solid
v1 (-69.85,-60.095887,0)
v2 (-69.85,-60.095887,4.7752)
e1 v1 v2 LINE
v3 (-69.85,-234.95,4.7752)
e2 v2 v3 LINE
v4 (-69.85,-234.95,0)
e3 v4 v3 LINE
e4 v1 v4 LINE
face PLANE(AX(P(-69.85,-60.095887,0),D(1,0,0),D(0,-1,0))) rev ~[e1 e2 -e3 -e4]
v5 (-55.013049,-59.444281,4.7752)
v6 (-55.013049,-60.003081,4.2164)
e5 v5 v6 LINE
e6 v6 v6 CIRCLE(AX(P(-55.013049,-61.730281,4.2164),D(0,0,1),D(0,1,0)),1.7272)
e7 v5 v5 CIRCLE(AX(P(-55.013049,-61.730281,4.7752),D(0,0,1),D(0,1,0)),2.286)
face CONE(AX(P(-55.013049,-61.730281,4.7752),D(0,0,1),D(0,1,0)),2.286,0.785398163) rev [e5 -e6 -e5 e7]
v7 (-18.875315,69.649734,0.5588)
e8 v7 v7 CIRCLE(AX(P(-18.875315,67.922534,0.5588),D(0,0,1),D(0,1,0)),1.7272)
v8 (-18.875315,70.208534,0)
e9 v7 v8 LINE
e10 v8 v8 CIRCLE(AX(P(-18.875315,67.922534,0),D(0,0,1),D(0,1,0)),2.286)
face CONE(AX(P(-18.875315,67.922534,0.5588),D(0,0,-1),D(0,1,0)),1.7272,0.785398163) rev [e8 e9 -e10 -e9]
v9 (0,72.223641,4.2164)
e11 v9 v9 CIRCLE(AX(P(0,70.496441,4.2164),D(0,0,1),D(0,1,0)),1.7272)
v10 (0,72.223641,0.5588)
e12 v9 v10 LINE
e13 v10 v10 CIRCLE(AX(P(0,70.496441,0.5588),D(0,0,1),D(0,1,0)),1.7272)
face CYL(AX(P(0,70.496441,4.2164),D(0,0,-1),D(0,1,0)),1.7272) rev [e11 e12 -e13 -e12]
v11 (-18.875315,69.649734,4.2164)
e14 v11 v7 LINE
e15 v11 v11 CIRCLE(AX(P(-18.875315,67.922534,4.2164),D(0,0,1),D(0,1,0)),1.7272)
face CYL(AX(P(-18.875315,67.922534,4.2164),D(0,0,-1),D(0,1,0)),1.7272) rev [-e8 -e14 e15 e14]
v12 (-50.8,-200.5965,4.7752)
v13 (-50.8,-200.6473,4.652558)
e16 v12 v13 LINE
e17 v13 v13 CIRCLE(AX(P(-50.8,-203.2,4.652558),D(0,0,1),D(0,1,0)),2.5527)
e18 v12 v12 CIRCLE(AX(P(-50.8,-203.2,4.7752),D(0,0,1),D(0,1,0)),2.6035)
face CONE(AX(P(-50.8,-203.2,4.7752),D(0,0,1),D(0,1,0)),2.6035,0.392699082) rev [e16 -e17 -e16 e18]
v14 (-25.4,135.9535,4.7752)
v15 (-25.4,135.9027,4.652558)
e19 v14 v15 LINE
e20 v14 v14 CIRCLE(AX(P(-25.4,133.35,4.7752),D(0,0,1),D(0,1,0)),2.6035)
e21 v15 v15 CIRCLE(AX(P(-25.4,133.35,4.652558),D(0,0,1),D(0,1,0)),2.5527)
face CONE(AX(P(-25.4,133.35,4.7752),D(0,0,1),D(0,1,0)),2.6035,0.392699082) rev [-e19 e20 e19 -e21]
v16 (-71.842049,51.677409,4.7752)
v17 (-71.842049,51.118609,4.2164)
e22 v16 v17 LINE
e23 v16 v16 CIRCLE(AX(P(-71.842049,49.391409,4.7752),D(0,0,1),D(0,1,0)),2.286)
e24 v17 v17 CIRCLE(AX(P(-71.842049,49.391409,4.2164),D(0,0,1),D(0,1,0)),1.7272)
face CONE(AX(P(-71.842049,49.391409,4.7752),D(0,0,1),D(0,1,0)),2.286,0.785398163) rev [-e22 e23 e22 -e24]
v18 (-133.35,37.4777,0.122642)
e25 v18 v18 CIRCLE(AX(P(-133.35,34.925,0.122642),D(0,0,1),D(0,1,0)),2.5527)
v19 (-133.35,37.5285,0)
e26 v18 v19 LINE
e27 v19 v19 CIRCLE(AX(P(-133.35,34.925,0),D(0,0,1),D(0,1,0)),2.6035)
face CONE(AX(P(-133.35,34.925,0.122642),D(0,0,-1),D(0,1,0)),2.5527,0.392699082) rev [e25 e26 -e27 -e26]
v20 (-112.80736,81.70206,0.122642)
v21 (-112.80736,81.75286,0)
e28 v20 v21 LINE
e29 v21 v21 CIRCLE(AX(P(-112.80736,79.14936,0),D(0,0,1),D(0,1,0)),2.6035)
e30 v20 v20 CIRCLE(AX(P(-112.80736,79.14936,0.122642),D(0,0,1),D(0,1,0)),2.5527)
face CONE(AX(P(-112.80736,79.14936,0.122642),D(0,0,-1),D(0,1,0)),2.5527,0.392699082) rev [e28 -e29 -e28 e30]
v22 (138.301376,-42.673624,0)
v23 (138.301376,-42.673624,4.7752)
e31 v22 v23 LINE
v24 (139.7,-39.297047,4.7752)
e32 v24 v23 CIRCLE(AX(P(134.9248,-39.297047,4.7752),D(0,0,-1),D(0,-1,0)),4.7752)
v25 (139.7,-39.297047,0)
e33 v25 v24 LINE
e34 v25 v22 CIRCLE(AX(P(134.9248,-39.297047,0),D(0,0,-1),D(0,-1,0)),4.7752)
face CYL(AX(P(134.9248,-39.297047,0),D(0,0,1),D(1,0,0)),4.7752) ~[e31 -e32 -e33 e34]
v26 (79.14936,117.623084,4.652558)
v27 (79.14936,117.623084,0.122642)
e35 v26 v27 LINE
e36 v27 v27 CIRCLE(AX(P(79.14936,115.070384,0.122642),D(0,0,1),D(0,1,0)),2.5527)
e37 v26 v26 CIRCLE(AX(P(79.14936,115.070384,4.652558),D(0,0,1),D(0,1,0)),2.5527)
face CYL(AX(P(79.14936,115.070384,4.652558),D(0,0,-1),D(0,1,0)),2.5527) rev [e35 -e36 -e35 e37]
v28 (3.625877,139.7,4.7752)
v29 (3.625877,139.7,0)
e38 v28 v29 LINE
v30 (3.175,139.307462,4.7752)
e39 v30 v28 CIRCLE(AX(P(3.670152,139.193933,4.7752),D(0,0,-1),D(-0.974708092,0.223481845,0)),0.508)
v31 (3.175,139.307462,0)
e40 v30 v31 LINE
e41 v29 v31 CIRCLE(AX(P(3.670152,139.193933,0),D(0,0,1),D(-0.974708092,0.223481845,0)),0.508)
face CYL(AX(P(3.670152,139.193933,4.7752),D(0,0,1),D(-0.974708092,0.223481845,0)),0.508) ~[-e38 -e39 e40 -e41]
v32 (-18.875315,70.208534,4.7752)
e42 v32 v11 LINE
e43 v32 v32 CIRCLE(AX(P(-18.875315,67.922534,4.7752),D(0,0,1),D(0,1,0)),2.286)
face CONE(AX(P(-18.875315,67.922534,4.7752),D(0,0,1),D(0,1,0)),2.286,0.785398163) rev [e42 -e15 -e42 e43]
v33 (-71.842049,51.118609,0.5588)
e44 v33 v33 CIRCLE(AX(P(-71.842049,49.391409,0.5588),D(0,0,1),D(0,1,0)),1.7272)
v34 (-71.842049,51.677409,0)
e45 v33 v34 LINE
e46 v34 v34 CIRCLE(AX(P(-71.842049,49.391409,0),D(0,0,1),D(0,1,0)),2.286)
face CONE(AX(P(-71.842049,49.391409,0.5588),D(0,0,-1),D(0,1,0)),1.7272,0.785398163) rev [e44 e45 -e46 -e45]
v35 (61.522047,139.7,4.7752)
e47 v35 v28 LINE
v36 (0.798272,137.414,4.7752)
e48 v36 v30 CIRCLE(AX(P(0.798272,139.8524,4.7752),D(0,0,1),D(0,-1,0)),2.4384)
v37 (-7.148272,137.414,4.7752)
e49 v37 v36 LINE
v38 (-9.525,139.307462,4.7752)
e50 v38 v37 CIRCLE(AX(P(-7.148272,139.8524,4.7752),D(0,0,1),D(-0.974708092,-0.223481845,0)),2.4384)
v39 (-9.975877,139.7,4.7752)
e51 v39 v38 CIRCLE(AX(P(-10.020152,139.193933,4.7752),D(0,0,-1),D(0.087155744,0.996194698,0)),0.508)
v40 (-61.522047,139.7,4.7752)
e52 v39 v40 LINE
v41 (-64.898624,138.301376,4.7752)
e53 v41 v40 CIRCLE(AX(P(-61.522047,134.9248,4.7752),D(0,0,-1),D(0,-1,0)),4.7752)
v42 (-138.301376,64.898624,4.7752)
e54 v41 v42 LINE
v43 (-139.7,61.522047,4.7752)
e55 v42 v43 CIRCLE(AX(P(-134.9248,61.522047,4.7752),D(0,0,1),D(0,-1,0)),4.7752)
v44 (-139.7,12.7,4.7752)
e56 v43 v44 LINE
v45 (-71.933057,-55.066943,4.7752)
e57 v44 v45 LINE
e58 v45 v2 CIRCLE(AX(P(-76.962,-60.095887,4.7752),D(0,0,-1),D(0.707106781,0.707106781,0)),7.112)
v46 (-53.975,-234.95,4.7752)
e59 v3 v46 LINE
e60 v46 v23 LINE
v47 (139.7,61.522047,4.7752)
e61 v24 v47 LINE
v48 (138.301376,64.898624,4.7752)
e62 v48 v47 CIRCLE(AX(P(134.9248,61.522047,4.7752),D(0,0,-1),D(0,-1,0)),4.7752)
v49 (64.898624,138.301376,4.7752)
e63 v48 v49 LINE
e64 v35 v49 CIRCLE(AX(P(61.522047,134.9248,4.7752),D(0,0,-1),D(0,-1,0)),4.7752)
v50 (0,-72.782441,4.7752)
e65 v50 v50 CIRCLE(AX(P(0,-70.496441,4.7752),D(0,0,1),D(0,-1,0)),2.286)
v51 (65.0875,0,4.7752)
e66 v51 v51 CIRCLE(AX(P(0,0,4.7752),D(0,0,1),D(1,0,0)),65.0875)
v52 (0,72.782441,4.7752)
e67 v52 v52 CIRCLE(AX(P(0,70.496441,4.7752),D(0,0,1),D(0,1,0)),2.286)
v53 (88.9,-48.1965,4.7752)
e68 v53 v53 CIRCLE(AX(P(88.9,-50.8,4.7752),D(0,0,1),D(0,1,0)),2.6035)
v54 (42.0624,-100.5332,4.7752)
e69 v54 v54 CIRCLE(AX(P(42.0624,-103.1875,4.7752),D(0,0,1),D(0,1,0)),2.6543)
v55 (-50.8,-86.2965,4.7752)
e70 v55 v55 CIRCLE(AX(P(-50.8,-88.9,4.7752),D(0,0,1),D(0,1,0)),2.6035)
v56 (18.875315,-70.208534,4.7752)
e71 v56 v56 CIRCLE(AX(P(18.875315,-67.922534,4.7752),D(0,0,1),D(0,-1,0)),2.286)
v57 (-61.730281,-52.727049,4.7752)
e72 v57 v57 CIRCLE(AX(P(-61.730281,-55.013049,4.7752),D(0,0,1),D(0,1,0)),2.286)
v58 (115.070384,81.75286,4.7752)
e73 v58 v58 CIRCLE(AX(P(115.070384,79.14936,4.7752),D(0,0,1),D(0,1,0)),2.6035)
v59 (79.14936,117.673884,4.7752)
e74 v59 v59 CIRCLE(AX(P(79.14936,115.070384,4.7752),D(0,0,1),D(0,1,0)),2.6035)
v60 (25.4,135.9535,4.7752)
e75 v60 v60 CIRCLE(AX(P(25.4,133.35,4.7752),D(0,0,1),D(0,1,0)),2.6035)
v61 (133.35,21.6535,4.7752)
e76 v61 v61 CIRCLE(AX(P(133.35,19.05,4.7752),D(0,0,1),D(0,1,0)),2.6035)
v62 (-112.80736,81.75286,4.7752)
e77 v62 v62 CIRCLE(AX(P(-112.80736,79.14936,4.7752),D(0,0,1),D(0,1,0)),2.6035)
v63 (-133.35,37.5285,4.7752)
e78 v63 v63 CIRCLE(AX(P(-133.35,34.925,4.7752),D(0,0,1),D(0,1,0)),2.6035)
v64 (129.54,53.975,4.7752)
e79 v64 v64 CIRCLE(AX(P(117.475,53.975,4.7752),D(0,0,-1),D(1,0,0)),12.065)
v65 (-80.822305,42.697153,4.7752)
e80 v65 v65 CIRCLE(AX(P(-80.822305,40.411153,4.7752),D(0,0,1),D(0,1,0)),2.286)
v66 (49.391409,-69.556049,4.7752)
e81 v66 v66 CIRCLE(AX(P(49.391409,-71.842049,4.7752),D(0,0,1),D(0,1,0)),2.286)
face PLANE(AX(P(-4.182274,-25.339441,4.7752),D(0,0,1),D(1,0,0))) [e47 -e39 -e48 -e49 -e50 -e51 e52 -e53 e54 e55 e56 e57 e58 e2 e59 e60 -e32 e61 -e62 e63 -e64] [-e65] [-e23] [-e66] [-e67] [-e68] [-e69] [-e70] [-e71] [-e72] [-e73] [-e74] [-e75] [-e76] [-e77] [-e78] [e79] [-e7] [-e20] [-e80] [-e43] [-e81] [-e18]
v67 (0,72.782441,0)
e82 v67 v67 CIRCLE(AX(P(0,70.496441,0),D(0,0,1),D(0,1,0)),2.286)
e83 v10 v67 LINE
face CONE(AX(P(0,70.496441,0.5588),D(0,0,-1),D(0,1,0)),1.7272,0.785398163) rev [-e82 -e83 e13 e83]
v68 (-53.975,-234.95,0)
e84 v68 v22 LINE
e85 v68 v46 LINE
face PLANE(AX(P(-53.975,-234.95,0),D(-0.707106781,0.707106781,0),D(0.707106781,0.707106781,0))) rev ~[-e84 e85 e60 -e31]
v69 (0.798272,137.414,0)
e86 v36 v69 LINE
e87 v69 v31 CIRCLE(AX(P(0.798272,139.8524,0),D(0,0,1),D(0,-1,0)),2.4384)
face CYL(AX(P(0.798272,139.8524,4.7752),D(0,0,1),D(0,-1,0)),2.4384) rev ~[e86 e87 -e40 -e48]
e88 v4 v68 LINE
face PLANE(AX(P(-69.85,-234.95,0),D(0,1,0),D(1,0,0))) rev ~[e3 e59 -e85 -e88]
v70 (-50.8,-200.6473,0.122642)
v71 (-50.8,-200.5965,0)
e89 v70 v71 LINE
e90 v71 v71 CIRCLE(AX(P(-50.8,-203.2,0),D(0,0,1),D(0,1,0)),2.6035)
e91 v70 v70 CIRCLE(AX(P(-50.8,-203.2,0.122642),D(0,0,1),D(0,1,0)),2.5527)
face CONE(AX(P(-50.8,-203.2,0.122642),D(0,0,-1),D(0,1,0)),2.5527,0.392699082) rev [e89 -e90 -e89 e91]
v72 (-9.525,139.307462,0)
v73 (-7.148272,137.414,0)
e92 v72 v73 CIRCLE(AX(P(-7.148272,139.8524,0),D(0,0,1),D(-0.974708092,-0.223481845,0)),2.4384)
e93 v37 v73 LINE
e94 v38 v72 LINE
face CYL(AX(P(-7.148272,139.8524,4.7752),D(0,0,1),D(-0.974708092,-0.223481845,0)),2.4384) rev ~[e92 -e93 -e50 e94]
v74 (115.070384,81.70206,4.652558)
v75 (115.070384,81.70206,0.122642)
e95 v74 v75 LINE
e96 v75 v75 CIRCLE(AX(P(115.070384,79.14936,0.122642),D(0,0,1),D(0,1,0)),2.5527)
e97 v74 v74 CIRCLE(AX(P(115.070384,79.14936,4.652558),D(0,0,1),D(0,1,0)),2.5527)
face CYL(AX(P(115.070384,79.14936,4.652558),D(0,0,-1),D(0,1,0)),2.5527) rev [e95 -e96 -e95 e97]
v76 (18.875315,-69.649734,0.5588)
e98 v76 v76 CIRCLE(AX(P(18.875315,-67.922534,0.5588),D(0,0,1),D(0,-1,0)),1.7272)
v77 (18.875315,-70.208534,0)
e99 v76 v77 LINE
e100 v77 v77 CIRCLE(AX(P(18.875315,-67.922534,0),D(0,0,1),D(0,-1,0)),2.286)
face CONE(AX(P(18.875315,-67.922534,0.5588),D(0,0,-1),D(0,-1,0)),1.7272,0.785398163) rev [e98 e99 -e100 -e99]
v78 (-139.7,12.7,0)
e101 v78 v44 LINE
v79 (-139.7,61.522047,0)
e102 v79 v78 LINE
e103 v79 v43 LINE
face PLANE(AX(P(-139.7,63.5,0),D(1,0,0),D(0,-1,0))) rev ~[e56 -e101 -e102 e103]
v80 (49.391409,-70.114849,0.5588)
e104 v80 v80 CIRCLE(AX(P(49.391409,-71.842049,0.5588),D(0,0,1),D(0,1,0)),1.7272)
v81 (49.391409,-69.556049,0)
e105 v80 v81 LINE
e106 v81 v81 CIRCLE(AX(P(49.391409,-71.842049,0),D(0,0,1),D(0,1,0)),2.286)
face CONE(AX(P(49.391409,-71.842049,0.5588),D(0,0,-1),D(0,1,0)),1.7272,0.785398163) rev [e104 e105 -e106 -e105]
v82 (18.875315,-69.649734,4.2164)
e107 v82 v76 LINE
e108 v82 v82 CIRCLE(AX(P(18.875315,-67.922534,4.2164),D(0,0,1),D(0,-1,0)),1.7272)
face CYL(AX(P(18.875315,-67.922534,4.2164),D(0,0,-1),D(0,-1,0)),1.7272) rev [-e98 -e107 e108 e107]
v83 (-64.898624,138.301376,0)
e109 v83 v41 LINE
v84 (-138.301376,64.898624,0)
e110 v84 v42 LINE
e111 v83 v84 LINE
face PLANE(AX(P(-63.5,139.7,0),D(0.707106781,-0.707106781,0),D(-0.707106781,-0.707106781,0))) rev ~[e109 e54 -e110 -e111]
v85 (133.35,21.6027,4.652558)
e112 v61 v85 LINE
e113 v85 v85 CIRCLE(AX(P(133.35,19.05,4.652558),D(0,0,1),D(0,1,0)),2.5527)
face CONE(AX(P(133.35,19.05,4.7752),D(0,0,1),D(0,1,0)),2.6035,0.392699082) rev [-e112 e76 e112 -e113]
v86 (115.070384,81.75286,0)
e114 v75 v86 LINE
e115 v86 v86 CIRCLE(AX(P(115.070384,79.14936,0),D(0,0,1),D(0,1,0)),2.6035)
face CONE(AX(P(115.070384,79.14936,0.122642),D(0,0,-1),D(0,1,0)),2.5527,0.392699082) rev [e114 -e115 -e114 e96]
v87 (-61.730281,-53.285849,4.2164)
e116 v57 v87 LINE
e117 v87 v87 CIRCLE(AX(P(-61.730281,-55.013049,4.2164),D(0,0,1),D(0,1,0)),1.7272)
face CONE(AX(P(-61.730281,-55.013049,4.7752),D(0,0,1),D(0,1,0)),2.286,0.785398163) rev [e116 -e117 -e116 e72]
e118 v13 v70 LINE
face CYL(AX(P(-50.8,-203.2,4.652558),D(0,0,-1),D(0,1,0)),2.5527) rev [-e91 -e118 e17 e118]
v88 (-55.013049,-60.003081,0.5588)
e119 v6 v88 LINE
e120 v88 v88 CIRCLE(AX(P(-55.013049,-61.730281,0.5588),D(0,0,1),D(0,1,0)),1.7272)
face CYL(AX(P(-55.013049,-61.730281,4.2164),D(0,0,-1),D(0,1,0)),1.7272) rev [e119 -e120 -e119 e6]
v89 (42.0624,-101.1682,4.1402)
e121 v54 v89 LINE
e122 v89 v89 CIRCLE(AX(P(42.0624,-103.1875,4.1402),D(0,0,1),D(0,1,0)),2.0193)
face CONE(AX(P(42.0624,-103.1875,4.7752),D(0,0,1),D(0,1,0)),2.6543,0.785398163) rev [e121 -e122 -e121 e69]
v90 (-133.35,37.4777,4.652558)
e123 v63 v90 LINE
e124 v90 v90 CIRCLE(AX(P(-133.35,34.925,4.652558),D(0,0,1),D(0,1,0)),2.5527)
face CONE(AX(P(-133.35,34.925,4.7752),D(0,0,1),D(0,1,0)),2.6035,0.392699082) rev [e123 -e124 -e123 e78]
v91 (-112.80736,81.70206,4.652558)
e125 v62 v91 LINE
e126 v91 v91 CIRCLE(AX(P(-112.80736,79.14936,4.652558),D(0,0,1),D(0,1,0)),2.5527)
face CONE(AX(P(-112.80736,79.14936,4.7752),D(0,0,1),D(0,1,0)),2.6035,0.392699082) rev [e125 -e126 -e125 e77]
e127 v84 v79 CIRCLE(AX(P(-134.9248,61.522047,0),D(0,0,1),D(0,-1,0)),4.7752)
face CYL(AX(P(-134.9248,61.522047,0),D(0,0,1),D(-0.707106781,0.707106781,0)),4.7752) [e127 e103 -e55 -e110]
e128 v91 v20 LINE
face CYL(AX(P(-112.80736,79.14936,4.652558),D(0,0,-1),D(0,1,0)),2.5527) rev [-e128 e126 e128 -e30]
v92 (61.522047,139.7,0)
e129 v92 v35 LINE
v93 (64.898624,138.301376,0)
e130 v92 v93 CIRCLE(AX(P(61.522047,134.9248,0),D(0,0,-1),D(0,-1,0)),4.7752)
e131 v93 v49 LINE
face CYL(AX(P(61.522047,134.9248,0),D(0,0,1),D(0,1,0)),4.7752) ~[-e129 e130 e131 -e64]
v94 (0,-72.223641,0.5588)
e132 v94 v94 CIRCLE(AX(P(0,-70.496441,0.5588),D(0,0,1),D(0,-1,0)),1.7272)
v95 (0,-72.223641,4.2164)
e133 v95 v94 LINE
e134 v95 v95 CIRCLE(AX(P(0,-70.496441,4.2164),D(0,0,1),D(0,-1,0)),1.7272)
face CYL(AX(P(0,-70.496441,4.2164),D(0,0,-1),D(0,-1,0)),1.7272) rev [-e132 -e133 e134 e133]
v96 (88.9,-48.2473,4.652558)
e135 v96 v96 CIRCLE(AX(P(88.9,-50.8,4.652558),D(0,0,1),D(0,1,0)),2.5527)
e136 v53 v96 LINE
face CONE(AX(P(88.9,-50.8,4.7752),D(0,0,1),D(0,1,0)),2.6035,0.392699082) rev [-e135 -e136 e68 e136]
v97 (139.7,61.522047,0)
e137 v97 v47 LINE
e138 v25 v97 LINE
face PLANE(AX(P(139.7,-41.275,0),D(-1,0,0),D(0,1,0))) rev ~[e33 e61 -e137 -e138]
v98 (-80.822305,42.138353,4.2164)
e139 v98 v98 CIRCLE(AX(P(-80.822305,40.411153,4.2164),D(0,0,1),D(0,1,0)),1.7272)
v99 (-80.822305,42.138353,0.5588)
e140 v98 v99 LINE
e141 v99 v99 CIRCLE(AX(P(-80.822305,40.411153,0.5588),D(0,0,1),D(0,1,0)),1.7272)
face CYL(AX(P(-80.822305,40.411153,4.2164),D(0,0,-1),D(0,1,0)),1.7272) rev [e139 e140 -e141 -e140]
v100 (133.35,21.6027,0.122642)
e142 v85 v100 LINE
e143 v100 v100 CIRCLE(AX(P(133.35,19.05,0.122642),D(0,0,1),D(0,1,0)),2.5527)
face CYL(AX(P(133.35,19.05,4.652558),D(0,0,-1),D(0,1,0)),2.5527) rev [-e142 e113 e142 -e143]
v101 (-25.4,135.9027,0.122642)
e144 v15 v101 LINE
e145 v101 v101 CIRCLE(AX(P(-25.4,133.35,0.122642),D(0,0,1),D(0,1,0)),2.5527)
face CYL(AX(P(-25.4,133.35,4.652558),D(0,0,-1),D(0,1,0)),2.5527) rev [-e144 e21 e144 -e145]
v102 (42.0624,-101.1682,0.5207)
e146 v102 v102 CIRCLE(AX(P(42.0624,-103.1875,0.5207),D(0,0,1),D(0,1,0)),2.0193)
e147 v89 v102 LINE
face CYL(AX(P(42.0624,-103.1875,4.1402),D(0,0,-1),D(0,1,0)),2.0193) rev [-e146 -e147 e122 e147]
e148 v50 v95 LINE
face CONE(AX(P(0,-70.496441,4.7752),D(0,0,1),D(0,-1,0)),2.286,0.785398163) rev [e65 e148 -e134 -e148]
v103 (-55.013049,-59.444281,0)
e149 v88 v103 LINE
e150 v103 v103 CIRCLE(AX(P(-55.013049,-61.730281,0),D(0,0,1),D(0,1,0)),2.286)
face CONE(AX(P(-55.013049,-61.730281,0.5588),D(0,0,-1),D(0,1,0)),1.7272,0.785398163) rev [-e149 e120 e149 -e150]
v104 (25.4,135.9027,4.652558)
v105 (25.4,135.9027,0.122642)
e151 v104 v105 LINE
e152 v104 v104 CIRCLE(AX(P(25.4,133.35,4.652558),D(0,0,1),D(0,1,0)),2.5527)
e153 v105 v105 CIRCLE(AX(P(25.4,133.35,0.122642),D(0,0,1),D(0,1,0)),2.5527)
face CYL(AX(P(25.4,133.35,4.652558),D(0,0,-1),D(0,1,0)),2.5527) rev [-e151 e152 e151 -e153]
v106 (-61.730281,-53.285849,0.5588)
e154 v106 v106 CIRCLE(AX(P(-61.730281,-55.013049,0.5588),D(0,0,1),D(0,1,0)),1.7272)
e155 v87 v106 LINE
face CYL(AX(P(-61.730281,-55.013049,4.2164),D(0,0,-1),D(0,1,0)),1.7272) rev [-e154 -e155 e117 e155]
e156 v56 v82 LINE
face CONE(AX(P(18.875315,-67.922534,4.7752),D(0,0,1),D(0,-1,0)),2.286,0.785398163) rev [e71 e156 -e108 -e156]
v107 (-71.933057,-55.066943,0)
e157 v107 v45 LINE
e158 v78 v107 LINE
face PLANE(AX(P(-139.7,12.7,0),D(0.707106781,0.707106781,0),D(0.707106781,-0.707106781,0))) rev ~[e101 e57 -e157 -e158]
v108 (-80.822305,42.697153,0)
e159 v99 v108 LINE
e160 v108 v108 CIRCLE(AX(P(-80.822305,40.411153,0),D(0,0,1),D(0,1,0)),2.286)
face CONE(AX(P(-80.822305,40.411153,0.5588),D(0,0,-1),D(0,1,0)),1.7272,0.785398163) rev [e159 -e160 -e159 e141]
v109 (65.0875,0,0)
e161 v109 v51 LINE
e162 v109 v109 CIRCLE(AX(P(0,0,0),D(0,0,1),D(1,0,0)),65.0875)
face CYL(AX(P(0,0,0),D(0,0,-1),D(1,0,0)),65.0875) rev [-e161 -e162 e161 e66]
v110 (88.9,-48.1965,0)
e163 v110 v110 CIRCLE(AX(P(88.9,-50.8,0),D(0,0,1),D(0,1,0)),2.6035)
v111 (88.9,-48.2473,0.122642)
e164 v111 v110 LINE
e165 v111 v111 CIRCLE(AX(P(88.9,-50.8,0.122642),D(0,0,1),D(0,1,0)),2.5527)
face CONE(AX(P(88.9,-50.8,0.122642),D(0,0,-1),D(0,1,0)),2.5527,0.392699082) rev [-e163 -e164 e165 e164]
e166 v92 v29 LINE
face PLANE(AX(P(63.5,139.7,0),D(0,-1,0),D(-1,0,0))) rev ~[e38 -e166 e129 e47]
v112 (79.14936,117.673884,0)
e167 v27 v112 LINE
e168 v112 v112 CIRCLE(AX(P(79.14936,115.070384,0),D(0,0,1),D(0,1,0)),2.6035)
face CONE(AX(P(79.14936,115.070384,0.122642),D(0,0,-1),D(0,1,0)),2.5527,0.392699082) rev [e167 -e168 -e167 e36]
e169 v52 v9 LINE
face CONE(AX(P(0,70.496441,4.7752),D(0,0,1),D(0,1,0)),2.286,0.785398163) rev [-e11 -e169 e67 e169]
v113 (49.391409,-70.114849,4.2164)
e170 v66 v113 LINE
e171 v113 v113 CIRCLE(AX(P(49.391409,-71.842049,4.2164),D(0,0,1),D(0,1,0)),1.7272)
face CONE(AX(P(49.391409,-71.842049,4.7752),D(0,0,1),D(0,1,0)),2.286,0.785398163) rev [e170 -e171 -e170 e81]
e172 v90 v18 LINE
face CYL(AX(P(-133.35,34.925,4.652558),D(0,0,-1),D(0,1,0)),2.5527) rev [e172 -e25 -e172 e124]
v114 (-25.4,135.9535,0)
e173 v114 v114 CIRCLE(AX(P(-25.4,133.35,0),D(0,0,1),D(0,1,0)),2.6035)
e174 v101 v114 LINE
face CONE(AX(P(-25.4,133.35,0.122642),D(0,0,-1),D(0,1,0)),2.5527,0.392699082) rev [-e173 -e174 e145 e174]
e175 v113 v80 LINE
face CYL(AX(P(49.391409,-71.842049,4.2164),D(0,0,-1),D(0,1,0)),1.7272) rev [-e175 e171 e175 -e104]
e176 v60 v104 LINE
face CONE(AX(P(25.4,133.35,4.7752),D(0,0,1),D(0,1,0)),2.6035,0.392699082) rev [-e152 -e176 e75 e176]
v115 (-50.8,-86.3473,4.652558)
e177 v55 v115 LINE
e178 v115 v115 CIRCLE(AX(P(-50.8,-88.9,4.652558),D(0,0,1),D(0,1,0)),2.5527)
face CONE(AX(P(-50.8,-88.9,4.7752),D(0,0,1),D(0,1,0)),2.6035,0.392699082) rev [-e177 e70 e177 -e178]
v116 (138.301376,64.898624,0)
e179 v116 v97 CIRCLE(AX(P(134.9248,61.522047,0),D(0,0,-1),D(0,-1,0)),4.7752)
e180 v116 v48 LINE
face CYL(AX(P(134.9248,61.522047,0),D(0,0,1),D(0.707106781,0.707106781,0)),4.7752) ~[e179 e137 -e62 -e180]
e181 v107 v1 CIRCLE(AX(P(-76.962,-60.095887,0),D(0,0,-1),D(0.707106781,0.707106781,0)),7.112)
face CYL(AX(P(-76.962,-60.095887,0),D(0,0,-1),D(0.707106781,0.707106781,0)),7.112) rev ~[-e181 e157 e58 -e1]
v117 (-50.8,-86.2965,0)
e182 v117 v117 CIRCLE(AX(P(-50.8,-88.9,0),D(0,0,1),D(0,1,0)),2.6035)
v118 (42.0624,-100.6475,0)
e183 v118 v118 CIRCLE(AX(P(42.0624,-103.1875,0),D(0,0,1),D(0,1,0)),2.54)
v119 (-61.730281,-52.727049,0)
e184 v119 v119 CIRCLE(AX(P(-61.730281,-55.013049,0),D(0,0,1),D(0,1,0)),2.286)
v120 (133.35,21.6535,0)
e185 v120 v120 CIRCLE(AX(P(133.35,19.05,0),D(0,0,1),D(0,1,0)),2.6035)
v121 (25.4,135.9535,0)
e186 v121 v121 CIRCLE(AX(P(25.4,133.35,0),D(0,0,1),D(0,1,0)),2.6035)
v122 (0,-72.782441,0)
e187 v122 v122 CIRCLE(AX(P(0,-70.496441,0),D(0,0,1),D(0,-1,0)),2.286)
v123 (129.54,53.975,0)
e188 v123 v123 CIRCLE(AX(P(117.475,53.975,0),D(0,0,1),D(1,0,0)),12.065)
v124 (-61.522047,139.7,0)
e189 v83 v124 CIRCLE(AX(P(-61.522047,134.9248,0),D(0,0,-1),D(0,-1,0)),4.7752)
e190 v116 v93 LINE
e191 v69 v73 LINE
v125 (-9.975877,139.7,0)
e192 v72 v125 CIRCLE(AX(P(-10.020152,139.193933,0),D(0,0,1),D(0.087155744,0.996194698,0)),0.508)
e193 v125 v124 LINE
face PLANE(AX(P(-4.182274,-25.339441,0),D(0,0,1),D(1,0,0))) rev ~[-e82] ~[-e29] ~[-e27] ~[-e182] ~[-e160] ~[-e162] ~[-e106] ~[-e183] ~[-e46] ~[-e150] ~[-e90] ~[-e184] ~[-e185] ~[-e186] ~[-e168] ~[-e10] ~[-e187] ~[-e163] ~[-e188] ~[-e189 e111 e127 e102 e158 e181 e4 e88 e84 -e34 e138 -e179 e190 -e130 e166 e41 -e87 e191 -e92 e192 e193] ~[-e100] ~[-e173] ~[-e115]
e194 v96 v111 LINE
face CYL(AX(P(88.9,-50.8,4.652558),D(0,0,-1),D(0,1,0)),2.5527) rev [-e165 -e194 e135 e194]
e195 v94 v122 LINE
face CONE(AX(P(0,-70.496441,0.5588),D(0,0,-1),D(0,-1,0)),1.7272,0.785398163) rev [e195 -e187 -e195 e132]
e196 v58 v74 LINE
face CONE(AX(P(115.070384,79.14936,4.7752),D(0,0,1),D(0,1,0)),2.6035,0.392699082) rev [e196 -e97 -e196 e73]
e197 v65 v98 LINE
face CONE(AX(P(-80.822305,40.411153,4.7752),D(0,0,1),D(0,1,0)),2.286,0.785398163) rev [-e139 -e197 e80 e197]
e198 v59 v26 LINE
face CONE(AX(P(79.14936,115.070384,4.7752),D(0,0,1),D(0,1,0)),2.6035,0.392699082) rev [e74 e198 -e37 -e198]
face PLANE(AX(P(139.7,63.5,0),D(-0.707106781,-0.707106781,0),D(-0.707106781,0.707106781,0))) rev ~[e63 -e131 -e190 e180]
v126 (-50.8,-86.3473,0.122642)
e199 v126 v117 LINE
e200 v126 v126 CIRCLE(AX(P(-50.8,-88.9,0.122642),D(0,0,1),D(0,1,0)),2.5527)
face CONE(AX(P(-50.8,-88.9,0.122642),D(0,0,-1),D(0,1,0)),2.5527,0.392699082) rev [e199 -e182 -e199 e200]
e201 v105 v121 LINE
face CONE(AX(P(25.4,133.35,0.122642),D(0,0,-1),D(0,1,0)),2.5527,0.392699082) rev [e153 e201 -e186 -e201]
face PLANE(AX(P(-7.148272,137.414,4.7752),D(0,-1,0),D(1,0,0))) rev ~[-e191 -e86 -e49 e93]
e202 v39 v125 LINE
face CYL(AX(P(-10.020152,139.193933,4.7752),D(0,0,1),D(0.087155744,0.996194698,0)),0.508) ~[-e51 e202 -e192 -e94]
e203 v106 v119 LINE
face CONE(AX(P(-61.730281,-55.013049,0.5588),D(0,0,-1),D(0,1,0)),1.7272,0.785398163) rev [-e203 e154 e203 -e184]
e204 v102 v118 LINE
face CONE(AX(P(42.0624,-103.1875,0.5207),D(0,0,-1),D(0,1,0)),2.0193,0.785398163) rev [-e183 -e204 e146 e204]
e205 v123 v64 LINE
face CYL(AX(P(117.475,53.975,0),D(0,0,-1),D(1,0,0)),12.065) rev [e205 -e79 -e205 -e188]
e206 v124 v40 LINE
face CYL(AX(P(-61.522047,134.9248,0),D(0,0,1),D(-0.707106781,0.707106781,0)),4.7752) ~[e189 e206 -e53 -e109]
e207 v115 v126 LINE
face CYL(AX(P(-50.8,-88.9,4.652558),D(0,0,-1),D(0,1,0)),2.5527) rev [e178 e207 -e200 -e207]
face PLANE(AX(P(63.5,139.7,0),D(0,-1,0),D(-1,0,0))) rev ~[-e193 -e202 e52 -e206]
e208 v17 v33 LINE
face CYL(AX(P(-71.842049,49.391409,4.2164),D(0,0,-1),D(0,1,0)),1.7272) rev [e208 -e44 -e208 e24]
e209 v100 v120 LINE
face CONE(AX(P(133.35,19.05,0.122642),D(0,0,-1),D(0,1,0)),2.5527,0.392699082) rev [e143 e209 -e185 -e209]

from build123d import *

# Parameters (mm, degrees)
SKETCH1_R                            = 65.0875
BOSS_EXTRUDE1_DEPTH                  = 4.7752
SKETCH5_R                            = 12.065
CUT_EXTRUDE2_DEPTH                   = 274.386896239
F_8_32_TAPPED_HOLE1_AT_2_COUNT       = 2
F_8_32_TAPPED_HOLE1_AT_2_PITCH       = 12.7
F_8_32_TAPPED_HOLE1_AT_3_COUNT       = 2
F_8_32_TAPPED_HOLE1_AT_3_PITCH       = 171.45
F_8_32_TAPPED_HOLE1_AT_4_COUNT       = 2
F_8_32_TAPPED_HOLE1_AT_4_PITCH       = 104.89298661
F_8_32_TAPPED_HOLE1_AT_5_COUNT       = 2
F_8_32_TAPPED_HOLE1_AT_5_PITCH       = 112.388811988
F_8_32_TAPPED_HOLE2_AT_2_COUNT       = 2
F_8_32_TAPPED_HOLE2_AT_2_PITCH       = 19.05
CIRPATTERN1_COUNT                    = 2
F_7_0_201_DIAMETER_HOLE1_AT_2_COUNT  = 2
F_7_0_201_DIAMETER_HOLE1_AT_2_PITCH  = 104.778276415
F_7_0_201_DIAMETER_HOLE1_AT_3_COUNT  = 2
F_7_0_201_DIAMETER_HOLE1_AT_3_PITCH  = 186.786089217
F_7_0_201_DIAMETER_HOLE1_AT_4_COUNT  = 2
F_7_0_201_DIAMETER_HOLE1_AT_4_PITCH  = 234.95
F_7_0_201_DIAMETER_HOLE1_AT_5_COUNT  = 2
F_7_0_201_DIAMETER_HOLE1_AT_5_PITCH  = 157.21861372
F_7_0_201_DIAMETER_HOLE1_AT_6_COUNT  = 2
F_7_0_201_DIAMETER_HOLE1_AT_6_PITCH  = 194.790842957
F_7_0_201_DIAMETER_HOLE1_AT_7_COUNT  = 2
F_7_0_201_DIAMETER_HOLE1_AT_7_PITCH  = 345.068605498
F_7_0_201_DIAMETER_HOLE1_AT_8_COUNT  = 2
F_7_0_201_DIAMETER_HOLE1_AT_8_PITCH  = 148.455325494
F_7_0_201_DIAMETER_HOLE1_AT_9_COUNT  = 2
F_7_0_201_DIAMETER_HOLE1_AT_9_PITCH  = 56.772687292
F_7_0_201_DIAMETER_HOLE1_AT_10_COUNT = 2
F_7_0_201_DIAMETER_HOLE1_AT_10_PITCH = 50.8
FILLET1_R                            = 4.7752
CUT_EXTRUDE4_REACH                   = 275.387


with BuildPart() as part:
    # Sketch1 → Boss-Extrude1 (new body)
    with BuildSketch(Plane.XY):
        with BuildLine():
            Line((-63.5, 139.7), (-139.7, 63.5))
            Line((-139.7, 63.5), (-139.7, 12.7))
            Line((-139.7, 12.7), (-71.933056572, -55.066943428))
            ThreePointArc((-71.933056572, -55.066943428), (-70.391368765, -57.374242285), (-69.85, -60.095886856))
            Line((-69.85, -60.095886856), (-69.85, -234.95))
            Line((-69.85, -234.95), (-53.975, -234.95))
            Line((-53.975, -234.95), (139.7, -41.275))
            Line((139.7, -41.275), (139.7, 63.5))
            Line((139.7, 63.5), (63.5, 139.7))
            Line((63.5, 139.7), (-63.5, 139.7))
        make_face()
        Circle(SKETCH1_R, mode=Mode.SUBTRACT)
    extrude(amount=BOSS_EXTRUDE1_DEPTH)

    # Sketch5 → Cut-Extrude2 (cut, through all)
    with BuildSketch(Plane.XY):
        with Locations((117.475, 53.975)):
            Circle(SKETCH5_R)
    extrude(amount=CUT_EXTRUDE2_DEPTH, mode=Mode.SUBTRACT)

    # Sketch6 → #8-32 Tapped Hole1 (revolve, cut)
    with BuildSketch(Plane(origin=(-71.842048969, 49.391408666, 0), x_dir=(0, 1, 0), z_dir=(1, 0, 0))):
        Polygon((0, 0), (0, 4.7752), (2.286, 4.7752), (1.7272, 4.2164), (1.7272, 0.5588), (2.286, 0), align=None)
    f_8_32_tapped_hole1 = revolve(axis=Axis((-71.842048969, 49.391408666, -6.35), (0, 0, 1)), mode=Mode.SUBTRACT)

    # #8-32 Tapped Hole1 at 2: #8-32 Tapped Hole1 ×2
    with Locations(*[Vector(-0.7071067811865428, -0.7071067811865523, 0) * (i * F_8_32_TAPPED_HOLE1_AT_2_PITCH) for i in range(1, F_8_32_TAPPED_HOLE1_AT_2_COUNT)]):
        add(f_8_32_tapped_hole1, mode=Mode.SUBTRACT)

    # #8-32 Tapped Hole1 at 3: #8-32 Tapped Hole1 ×2
    with Locations(*[Vector(0.7071067811865512, -0.7071067811865439, 0) * (i * F_8_32_TAPPED_HOLE1_AT_3_PITCH) for i in range(1, F_8_32_TAPPED_HOLE1_AT_3_COUNT)]):
        add(f_8_32_tapped_hole1, mode=Mode.SUBTRACT)

    # #8-32 Tapped Hole1 at 4: #8-32 Tapped Hole1 ×2
    with Locations(*[Vector(0.09640080542168707, -0.9953425966540617, 0) * (i * F_8_32_TAPPED_HOLE1_AT_4_PITCH) for i in range(1, F_8_32_TAPPED_HOLE1_AT_4_COUNT)]):
        add(f_8_32_tapped_hole1, mode=Mode.SUBTRACT)

    # #8-32 Tapped Hole1 at 5: #8-32 Tapped Hole1 ×2
    with Locations(*[Vector(0.1497391036814564, -0.9887255437322706, 0) * (i * F_8_32_TAPPED_HOLE1_AT_5_PITCH) for i in range(1, F_8_32_TAPPED_HOLE1_AT_5_COUNT)]):
        add(f_8_32_tapped_hole1, mode=Mode.SUBTRACT)

    # Sketch16 → #8-32 Tapped Hole2 (revolve, cut)
    with BuildSketch(Plane(origin=(-18.875314701, 67.922533963, 0), x_dir=(0, 1, 0), z_dir=(1, 0, 0))):
        Polygon((0, 0), (0, 4.7752), (2.286, 4.7752), (1.7272, 4.2164), (1.7272, 0.5588), (2.286, 0), align=None)
    f_8_32_tapped_hole2 = revolve(axis=Axis((-18.875314701, 67.922533963, -6.35), (0, 0, 1)), mode=Mode.SUBTRACT)

    # #8-32 Tapped Hole2 at 2: #8-32 Tapped Hole2 ×2
    with Locations(*[Vector(0.990830168044299, 0.13511320473331287, 0) * (i * F_8_32_TAPPED_HOLE2_AT_2_PITCH) for i in range(1, F_8_32_TAPPED_HOLE2_AT_2_COUNT)]):
        add(f_8_32_tapped_hole2, mode=Mode.SUBTRACT)

    # CirPattern1: #8-32 Tapped Hole2 ×2 about axis
    cirpattern1_axis = Axis((0, 0, 0), (0, 0, 1))
    for i in range(1, CIRPATTERN1_COUNT):
        add(f_8_32_tapped_hole2.rotate(cirpattern1_axis, i * 360 / CIRPATTERN1_COUNT), mode=Mode.SUBTRACT)

    # CirPattern1 copy 1 sketch → CirPattern1 copy 1 (revolve, cut)
    with BuildSketch(Plane(origin=(0, -70.496440513, 0), x_dir=(0, -1, 0), z_dir=(-1, 0, 0))):
        Polygon((0, 0), (0, 4.7752), (2.286, 4.7752), (1.7272, 4.2164), (1.7272, 0.5588), (2.286, 0), align=None)
    revolve(axis=Axis((0, -70.496440513, -6.35), (0, 0, 1)), mode=Mode.SUBTRACT)

    # Sketch9 → #7 (0.201) Diameter Hole1 (revolve, cut)
    with BuildSketch(Plane(origin=(25.4, 133.35, 0), x_dir=(0, 1, 0), z_dir=(1, 0, 0))):
        Polygon((0, 0), (0, 4.7752), (2.6035, 4.7752), (2.5527, 4.652557951), (2.5527, 0.122642049), (2.6035, 0), align=None)
    f_7_0_201_diameter_hole1 = revolve(axis=Axis((25.4, 133.35, -6.35), (0, 0, 1)), mode=Mode.SUBTRACT)

    # #7 (0.201) Diameter Hole1 at 2: #7 (0.201) Diameter Hole1 ×2
    with Locations(*[Vector(0.8558108345517201, -0.5172889090864876, 0) * (i * F_7_0_201_DIAMETER_HOLE1_AT_2_PITCH) for i in range(1, F_7_0_201_DIAMETER_HOLE1_AT_2_COUNT)]):
        add(f_7_0_201_diameter_hole1, mode=Mode.SUBTRACT)

    # #7 (0.201) Diameter Hole1 at 3: #7 (0.201) Diameter Hole1 ×2
    with Locations(*[Vector(-0.8499026917123796, -0.5269396688616753, 0) * (i * F_7_0_201_DIAMETER_HOLE1_AT_3_PITCH) for i in range(1, F_7_0_201_DIAMETER_HOLE1_AT_3_COUNT)]):
        add(f_7_0_201_diameter_hole1, mode=Mode.SUBTRACT)

    # #7 (0.201) Diameter Hole1 at 4: #7 (0.201) Diameter Hole1 ×2
    with Locations(*[Vector(-0.32432432432432445, -0.9459459459459459, 0) * (i * F_7_0_201_DIAMETER_HOLE1_AT_4_PITCH) for i in range(1, F_7_0_201_DIAMETER_HOLE1_AT_4_COUNT)]):
        add(f_7_0_201_diameter_hole1, mode=Mode.SUBTRACT)

    # #7 (0.201) Diameter Hole1 at 5: #7 (0.201) Diameter Hole1 ×2
    with Locations(*[Vector(0.6866235329637165, -0.7270131525498176, 0) * (i * F_7_0_201_DIAMETER_HOLE1_AT_5_PITCH) for i in range(1, F_7_0_201_DIAMETER_HOLE1_AT_5_COUNT)]):
        add(f_7_0_201_diameter_hole1, mode=Mode.SUBTRACT)

    # #7 (0.201) Diameter Hole1 at 6: #7 (0.201) Diameter Hole1 ×2
    with Locations(*[Vector(0.3259906833194041, -0.9453729816262723, 0) * (i * F_7_0_201_DIAMETER_HOLE1_AT_6_PITCH) for i in range(1, F_7_0_201_DIAMETER_HOLE1_AT_6_COUNT)]):
        add(f_7_0_201_diameter_hole1, mode=Mode.SUBTRACT)

    # #7 (0.201) Diameter Hole1 at 7: #7 (0.201) Diameter Hole1 ×2
    with Locations(*[Vector(-0.22082565259779527, -0.9753132989735954, 0) * (i * F_7_0_201_DIAMETER_HOLE1_AT_7_PITCH) for i in range(1, F_7_0_201_DIAMETER_HOLE1_AT_7_COUNT)]):
        add(f_7_0_201_diameter_hole1, mode=Mode.SUBTRACT)

    # #7 (0.201) Diameter Hole1 at 8: #7 (0.201) Diameter Hole1 ×2
    with Locations(*[Vector(-0.9309693618526736, -0.3650973120849093, 0) * (i * F_7_0_201_DIAMETER_HOLE1_AT_8_PITCH) for i in range(1, F_7_0_201_DIAMETER_HOLE1_AT_8_COUNT)]):
        add(f_7_0_201_diameter_hole1, mode=Mode.SUBTRACT)

    # #7 (0.201) Diameter Hole1 at 9: #7 (0.201) Diameter Hole1 ×2
    with Locations(*[Vector(0.9467467942991173, -0.321979048207092, 0) * (i * F_7_0_201_DIAMETER_HOLE1_AT_9_PITCH) for i in range(1, F_7_0_201_DIAMETER_HOLE1_AT_9_COUNT)]):
        add(f_7_0_201_diameter_hole1, mode=Mode.SUBTRACT)

    # #7 (0.201) Diameter Hole1 at 10: #7 (0.201) Diameter Hole1 ×2
    with Locations(*[(-i * F_7_0_201_DIAMETER_HOLE1_AT_10_PITCH, 0, 0) for i in range(1, F_7_0_201_DIAMETER_HOLE1_AT_10_COUNT)]):
        add(f_7_0_201_diameter_hole1, mode=Mode.SUBTRACT)

    # Sketch11 → #10-32 Tapped Hole1 (revolve, cut)
    with BuildSketch(Plane(origin=(42.0624, -103.1875, 0), x_dir=(0, 1, 0), z_dir=(1, 0, 0))):
        Polygon((0, 0), (0, 4.7752), (2.6543, 4.7752), (2.0193, 4.1402), (2.0193, 0.5207), (2.54, 0), align=None)
    revolve(axis=Axis((42.0624, -103.1875, -6.35), (0, 0, 1)), mode=Mode.SUBTRACT)

    # Fillet1
    fillet1_edges = [part.edges().sort_by_distance(p)[0] for p in [
        (-139.7, 63.5, 2.3876),
        (-63.5, 139.7, 2.3876),
        (63.5, 139.7, 2.3876),
        (139.7, 63.5, 2.3876),
        (139.7, -41.275, 2.3876),
    ]]
    fillet(fillet1_edges, radius=FILLET1_R)

    # Sketch13 → Cut-Extrude4 (cut, up to next)
    with BuildSketch(Plane.XY.offset(4.7752), mode=Mode.PRIVATE) as cut_extrude4_sk1:
        with BuildLine():
            Line((3.625876594, 139.7), (9.926476513, 140.251231066))
            Line((9.926476513, 140.251231066), (9.926476513, 142.770744163))
            Line((9.926476513, 142.770744163), (-16.276476513, 142.770744163))
            Line((-16.276476513, 142.770744163), (-16.276476513, 140.251231066))
            Line((-16.276476513, 140.251231066), (-9.975876594, 139.7))
            ThreePointArc((-9.975876594, 139.7), (-9.686584819, 139.577074227), (-9.525, 139.30746187))
            ThreePointArc((-9.525, 139.30746187), (-8.667649526, 137.945233031), (-7.148271788, 137.414))
            Line((-7.148271788, 137.414), (0.798271788, 137.414))
            ThreePointArc((0.798271788, 137.414), (2.317649526, 137.945233031), (3.175, 139.30746187))
            ThreePointArc((3.175, 139.30746187), (3.336584819, 139.577074227), (3.625876594, 139.7))
        make_face()
    cut_extrude4_tool1 = extrude(cut_extrude4_sk1.sketch, amount=-CUT_EXTRUDE4_REACH, mode=Mode.PRIVATE) & part.part
    add(cut_extrude4_tool1.solids().sort_by_distance((-3.175, 140.603778, 4.7752))[0], mode=Mode.SUBTRACT)


solid = part.part
